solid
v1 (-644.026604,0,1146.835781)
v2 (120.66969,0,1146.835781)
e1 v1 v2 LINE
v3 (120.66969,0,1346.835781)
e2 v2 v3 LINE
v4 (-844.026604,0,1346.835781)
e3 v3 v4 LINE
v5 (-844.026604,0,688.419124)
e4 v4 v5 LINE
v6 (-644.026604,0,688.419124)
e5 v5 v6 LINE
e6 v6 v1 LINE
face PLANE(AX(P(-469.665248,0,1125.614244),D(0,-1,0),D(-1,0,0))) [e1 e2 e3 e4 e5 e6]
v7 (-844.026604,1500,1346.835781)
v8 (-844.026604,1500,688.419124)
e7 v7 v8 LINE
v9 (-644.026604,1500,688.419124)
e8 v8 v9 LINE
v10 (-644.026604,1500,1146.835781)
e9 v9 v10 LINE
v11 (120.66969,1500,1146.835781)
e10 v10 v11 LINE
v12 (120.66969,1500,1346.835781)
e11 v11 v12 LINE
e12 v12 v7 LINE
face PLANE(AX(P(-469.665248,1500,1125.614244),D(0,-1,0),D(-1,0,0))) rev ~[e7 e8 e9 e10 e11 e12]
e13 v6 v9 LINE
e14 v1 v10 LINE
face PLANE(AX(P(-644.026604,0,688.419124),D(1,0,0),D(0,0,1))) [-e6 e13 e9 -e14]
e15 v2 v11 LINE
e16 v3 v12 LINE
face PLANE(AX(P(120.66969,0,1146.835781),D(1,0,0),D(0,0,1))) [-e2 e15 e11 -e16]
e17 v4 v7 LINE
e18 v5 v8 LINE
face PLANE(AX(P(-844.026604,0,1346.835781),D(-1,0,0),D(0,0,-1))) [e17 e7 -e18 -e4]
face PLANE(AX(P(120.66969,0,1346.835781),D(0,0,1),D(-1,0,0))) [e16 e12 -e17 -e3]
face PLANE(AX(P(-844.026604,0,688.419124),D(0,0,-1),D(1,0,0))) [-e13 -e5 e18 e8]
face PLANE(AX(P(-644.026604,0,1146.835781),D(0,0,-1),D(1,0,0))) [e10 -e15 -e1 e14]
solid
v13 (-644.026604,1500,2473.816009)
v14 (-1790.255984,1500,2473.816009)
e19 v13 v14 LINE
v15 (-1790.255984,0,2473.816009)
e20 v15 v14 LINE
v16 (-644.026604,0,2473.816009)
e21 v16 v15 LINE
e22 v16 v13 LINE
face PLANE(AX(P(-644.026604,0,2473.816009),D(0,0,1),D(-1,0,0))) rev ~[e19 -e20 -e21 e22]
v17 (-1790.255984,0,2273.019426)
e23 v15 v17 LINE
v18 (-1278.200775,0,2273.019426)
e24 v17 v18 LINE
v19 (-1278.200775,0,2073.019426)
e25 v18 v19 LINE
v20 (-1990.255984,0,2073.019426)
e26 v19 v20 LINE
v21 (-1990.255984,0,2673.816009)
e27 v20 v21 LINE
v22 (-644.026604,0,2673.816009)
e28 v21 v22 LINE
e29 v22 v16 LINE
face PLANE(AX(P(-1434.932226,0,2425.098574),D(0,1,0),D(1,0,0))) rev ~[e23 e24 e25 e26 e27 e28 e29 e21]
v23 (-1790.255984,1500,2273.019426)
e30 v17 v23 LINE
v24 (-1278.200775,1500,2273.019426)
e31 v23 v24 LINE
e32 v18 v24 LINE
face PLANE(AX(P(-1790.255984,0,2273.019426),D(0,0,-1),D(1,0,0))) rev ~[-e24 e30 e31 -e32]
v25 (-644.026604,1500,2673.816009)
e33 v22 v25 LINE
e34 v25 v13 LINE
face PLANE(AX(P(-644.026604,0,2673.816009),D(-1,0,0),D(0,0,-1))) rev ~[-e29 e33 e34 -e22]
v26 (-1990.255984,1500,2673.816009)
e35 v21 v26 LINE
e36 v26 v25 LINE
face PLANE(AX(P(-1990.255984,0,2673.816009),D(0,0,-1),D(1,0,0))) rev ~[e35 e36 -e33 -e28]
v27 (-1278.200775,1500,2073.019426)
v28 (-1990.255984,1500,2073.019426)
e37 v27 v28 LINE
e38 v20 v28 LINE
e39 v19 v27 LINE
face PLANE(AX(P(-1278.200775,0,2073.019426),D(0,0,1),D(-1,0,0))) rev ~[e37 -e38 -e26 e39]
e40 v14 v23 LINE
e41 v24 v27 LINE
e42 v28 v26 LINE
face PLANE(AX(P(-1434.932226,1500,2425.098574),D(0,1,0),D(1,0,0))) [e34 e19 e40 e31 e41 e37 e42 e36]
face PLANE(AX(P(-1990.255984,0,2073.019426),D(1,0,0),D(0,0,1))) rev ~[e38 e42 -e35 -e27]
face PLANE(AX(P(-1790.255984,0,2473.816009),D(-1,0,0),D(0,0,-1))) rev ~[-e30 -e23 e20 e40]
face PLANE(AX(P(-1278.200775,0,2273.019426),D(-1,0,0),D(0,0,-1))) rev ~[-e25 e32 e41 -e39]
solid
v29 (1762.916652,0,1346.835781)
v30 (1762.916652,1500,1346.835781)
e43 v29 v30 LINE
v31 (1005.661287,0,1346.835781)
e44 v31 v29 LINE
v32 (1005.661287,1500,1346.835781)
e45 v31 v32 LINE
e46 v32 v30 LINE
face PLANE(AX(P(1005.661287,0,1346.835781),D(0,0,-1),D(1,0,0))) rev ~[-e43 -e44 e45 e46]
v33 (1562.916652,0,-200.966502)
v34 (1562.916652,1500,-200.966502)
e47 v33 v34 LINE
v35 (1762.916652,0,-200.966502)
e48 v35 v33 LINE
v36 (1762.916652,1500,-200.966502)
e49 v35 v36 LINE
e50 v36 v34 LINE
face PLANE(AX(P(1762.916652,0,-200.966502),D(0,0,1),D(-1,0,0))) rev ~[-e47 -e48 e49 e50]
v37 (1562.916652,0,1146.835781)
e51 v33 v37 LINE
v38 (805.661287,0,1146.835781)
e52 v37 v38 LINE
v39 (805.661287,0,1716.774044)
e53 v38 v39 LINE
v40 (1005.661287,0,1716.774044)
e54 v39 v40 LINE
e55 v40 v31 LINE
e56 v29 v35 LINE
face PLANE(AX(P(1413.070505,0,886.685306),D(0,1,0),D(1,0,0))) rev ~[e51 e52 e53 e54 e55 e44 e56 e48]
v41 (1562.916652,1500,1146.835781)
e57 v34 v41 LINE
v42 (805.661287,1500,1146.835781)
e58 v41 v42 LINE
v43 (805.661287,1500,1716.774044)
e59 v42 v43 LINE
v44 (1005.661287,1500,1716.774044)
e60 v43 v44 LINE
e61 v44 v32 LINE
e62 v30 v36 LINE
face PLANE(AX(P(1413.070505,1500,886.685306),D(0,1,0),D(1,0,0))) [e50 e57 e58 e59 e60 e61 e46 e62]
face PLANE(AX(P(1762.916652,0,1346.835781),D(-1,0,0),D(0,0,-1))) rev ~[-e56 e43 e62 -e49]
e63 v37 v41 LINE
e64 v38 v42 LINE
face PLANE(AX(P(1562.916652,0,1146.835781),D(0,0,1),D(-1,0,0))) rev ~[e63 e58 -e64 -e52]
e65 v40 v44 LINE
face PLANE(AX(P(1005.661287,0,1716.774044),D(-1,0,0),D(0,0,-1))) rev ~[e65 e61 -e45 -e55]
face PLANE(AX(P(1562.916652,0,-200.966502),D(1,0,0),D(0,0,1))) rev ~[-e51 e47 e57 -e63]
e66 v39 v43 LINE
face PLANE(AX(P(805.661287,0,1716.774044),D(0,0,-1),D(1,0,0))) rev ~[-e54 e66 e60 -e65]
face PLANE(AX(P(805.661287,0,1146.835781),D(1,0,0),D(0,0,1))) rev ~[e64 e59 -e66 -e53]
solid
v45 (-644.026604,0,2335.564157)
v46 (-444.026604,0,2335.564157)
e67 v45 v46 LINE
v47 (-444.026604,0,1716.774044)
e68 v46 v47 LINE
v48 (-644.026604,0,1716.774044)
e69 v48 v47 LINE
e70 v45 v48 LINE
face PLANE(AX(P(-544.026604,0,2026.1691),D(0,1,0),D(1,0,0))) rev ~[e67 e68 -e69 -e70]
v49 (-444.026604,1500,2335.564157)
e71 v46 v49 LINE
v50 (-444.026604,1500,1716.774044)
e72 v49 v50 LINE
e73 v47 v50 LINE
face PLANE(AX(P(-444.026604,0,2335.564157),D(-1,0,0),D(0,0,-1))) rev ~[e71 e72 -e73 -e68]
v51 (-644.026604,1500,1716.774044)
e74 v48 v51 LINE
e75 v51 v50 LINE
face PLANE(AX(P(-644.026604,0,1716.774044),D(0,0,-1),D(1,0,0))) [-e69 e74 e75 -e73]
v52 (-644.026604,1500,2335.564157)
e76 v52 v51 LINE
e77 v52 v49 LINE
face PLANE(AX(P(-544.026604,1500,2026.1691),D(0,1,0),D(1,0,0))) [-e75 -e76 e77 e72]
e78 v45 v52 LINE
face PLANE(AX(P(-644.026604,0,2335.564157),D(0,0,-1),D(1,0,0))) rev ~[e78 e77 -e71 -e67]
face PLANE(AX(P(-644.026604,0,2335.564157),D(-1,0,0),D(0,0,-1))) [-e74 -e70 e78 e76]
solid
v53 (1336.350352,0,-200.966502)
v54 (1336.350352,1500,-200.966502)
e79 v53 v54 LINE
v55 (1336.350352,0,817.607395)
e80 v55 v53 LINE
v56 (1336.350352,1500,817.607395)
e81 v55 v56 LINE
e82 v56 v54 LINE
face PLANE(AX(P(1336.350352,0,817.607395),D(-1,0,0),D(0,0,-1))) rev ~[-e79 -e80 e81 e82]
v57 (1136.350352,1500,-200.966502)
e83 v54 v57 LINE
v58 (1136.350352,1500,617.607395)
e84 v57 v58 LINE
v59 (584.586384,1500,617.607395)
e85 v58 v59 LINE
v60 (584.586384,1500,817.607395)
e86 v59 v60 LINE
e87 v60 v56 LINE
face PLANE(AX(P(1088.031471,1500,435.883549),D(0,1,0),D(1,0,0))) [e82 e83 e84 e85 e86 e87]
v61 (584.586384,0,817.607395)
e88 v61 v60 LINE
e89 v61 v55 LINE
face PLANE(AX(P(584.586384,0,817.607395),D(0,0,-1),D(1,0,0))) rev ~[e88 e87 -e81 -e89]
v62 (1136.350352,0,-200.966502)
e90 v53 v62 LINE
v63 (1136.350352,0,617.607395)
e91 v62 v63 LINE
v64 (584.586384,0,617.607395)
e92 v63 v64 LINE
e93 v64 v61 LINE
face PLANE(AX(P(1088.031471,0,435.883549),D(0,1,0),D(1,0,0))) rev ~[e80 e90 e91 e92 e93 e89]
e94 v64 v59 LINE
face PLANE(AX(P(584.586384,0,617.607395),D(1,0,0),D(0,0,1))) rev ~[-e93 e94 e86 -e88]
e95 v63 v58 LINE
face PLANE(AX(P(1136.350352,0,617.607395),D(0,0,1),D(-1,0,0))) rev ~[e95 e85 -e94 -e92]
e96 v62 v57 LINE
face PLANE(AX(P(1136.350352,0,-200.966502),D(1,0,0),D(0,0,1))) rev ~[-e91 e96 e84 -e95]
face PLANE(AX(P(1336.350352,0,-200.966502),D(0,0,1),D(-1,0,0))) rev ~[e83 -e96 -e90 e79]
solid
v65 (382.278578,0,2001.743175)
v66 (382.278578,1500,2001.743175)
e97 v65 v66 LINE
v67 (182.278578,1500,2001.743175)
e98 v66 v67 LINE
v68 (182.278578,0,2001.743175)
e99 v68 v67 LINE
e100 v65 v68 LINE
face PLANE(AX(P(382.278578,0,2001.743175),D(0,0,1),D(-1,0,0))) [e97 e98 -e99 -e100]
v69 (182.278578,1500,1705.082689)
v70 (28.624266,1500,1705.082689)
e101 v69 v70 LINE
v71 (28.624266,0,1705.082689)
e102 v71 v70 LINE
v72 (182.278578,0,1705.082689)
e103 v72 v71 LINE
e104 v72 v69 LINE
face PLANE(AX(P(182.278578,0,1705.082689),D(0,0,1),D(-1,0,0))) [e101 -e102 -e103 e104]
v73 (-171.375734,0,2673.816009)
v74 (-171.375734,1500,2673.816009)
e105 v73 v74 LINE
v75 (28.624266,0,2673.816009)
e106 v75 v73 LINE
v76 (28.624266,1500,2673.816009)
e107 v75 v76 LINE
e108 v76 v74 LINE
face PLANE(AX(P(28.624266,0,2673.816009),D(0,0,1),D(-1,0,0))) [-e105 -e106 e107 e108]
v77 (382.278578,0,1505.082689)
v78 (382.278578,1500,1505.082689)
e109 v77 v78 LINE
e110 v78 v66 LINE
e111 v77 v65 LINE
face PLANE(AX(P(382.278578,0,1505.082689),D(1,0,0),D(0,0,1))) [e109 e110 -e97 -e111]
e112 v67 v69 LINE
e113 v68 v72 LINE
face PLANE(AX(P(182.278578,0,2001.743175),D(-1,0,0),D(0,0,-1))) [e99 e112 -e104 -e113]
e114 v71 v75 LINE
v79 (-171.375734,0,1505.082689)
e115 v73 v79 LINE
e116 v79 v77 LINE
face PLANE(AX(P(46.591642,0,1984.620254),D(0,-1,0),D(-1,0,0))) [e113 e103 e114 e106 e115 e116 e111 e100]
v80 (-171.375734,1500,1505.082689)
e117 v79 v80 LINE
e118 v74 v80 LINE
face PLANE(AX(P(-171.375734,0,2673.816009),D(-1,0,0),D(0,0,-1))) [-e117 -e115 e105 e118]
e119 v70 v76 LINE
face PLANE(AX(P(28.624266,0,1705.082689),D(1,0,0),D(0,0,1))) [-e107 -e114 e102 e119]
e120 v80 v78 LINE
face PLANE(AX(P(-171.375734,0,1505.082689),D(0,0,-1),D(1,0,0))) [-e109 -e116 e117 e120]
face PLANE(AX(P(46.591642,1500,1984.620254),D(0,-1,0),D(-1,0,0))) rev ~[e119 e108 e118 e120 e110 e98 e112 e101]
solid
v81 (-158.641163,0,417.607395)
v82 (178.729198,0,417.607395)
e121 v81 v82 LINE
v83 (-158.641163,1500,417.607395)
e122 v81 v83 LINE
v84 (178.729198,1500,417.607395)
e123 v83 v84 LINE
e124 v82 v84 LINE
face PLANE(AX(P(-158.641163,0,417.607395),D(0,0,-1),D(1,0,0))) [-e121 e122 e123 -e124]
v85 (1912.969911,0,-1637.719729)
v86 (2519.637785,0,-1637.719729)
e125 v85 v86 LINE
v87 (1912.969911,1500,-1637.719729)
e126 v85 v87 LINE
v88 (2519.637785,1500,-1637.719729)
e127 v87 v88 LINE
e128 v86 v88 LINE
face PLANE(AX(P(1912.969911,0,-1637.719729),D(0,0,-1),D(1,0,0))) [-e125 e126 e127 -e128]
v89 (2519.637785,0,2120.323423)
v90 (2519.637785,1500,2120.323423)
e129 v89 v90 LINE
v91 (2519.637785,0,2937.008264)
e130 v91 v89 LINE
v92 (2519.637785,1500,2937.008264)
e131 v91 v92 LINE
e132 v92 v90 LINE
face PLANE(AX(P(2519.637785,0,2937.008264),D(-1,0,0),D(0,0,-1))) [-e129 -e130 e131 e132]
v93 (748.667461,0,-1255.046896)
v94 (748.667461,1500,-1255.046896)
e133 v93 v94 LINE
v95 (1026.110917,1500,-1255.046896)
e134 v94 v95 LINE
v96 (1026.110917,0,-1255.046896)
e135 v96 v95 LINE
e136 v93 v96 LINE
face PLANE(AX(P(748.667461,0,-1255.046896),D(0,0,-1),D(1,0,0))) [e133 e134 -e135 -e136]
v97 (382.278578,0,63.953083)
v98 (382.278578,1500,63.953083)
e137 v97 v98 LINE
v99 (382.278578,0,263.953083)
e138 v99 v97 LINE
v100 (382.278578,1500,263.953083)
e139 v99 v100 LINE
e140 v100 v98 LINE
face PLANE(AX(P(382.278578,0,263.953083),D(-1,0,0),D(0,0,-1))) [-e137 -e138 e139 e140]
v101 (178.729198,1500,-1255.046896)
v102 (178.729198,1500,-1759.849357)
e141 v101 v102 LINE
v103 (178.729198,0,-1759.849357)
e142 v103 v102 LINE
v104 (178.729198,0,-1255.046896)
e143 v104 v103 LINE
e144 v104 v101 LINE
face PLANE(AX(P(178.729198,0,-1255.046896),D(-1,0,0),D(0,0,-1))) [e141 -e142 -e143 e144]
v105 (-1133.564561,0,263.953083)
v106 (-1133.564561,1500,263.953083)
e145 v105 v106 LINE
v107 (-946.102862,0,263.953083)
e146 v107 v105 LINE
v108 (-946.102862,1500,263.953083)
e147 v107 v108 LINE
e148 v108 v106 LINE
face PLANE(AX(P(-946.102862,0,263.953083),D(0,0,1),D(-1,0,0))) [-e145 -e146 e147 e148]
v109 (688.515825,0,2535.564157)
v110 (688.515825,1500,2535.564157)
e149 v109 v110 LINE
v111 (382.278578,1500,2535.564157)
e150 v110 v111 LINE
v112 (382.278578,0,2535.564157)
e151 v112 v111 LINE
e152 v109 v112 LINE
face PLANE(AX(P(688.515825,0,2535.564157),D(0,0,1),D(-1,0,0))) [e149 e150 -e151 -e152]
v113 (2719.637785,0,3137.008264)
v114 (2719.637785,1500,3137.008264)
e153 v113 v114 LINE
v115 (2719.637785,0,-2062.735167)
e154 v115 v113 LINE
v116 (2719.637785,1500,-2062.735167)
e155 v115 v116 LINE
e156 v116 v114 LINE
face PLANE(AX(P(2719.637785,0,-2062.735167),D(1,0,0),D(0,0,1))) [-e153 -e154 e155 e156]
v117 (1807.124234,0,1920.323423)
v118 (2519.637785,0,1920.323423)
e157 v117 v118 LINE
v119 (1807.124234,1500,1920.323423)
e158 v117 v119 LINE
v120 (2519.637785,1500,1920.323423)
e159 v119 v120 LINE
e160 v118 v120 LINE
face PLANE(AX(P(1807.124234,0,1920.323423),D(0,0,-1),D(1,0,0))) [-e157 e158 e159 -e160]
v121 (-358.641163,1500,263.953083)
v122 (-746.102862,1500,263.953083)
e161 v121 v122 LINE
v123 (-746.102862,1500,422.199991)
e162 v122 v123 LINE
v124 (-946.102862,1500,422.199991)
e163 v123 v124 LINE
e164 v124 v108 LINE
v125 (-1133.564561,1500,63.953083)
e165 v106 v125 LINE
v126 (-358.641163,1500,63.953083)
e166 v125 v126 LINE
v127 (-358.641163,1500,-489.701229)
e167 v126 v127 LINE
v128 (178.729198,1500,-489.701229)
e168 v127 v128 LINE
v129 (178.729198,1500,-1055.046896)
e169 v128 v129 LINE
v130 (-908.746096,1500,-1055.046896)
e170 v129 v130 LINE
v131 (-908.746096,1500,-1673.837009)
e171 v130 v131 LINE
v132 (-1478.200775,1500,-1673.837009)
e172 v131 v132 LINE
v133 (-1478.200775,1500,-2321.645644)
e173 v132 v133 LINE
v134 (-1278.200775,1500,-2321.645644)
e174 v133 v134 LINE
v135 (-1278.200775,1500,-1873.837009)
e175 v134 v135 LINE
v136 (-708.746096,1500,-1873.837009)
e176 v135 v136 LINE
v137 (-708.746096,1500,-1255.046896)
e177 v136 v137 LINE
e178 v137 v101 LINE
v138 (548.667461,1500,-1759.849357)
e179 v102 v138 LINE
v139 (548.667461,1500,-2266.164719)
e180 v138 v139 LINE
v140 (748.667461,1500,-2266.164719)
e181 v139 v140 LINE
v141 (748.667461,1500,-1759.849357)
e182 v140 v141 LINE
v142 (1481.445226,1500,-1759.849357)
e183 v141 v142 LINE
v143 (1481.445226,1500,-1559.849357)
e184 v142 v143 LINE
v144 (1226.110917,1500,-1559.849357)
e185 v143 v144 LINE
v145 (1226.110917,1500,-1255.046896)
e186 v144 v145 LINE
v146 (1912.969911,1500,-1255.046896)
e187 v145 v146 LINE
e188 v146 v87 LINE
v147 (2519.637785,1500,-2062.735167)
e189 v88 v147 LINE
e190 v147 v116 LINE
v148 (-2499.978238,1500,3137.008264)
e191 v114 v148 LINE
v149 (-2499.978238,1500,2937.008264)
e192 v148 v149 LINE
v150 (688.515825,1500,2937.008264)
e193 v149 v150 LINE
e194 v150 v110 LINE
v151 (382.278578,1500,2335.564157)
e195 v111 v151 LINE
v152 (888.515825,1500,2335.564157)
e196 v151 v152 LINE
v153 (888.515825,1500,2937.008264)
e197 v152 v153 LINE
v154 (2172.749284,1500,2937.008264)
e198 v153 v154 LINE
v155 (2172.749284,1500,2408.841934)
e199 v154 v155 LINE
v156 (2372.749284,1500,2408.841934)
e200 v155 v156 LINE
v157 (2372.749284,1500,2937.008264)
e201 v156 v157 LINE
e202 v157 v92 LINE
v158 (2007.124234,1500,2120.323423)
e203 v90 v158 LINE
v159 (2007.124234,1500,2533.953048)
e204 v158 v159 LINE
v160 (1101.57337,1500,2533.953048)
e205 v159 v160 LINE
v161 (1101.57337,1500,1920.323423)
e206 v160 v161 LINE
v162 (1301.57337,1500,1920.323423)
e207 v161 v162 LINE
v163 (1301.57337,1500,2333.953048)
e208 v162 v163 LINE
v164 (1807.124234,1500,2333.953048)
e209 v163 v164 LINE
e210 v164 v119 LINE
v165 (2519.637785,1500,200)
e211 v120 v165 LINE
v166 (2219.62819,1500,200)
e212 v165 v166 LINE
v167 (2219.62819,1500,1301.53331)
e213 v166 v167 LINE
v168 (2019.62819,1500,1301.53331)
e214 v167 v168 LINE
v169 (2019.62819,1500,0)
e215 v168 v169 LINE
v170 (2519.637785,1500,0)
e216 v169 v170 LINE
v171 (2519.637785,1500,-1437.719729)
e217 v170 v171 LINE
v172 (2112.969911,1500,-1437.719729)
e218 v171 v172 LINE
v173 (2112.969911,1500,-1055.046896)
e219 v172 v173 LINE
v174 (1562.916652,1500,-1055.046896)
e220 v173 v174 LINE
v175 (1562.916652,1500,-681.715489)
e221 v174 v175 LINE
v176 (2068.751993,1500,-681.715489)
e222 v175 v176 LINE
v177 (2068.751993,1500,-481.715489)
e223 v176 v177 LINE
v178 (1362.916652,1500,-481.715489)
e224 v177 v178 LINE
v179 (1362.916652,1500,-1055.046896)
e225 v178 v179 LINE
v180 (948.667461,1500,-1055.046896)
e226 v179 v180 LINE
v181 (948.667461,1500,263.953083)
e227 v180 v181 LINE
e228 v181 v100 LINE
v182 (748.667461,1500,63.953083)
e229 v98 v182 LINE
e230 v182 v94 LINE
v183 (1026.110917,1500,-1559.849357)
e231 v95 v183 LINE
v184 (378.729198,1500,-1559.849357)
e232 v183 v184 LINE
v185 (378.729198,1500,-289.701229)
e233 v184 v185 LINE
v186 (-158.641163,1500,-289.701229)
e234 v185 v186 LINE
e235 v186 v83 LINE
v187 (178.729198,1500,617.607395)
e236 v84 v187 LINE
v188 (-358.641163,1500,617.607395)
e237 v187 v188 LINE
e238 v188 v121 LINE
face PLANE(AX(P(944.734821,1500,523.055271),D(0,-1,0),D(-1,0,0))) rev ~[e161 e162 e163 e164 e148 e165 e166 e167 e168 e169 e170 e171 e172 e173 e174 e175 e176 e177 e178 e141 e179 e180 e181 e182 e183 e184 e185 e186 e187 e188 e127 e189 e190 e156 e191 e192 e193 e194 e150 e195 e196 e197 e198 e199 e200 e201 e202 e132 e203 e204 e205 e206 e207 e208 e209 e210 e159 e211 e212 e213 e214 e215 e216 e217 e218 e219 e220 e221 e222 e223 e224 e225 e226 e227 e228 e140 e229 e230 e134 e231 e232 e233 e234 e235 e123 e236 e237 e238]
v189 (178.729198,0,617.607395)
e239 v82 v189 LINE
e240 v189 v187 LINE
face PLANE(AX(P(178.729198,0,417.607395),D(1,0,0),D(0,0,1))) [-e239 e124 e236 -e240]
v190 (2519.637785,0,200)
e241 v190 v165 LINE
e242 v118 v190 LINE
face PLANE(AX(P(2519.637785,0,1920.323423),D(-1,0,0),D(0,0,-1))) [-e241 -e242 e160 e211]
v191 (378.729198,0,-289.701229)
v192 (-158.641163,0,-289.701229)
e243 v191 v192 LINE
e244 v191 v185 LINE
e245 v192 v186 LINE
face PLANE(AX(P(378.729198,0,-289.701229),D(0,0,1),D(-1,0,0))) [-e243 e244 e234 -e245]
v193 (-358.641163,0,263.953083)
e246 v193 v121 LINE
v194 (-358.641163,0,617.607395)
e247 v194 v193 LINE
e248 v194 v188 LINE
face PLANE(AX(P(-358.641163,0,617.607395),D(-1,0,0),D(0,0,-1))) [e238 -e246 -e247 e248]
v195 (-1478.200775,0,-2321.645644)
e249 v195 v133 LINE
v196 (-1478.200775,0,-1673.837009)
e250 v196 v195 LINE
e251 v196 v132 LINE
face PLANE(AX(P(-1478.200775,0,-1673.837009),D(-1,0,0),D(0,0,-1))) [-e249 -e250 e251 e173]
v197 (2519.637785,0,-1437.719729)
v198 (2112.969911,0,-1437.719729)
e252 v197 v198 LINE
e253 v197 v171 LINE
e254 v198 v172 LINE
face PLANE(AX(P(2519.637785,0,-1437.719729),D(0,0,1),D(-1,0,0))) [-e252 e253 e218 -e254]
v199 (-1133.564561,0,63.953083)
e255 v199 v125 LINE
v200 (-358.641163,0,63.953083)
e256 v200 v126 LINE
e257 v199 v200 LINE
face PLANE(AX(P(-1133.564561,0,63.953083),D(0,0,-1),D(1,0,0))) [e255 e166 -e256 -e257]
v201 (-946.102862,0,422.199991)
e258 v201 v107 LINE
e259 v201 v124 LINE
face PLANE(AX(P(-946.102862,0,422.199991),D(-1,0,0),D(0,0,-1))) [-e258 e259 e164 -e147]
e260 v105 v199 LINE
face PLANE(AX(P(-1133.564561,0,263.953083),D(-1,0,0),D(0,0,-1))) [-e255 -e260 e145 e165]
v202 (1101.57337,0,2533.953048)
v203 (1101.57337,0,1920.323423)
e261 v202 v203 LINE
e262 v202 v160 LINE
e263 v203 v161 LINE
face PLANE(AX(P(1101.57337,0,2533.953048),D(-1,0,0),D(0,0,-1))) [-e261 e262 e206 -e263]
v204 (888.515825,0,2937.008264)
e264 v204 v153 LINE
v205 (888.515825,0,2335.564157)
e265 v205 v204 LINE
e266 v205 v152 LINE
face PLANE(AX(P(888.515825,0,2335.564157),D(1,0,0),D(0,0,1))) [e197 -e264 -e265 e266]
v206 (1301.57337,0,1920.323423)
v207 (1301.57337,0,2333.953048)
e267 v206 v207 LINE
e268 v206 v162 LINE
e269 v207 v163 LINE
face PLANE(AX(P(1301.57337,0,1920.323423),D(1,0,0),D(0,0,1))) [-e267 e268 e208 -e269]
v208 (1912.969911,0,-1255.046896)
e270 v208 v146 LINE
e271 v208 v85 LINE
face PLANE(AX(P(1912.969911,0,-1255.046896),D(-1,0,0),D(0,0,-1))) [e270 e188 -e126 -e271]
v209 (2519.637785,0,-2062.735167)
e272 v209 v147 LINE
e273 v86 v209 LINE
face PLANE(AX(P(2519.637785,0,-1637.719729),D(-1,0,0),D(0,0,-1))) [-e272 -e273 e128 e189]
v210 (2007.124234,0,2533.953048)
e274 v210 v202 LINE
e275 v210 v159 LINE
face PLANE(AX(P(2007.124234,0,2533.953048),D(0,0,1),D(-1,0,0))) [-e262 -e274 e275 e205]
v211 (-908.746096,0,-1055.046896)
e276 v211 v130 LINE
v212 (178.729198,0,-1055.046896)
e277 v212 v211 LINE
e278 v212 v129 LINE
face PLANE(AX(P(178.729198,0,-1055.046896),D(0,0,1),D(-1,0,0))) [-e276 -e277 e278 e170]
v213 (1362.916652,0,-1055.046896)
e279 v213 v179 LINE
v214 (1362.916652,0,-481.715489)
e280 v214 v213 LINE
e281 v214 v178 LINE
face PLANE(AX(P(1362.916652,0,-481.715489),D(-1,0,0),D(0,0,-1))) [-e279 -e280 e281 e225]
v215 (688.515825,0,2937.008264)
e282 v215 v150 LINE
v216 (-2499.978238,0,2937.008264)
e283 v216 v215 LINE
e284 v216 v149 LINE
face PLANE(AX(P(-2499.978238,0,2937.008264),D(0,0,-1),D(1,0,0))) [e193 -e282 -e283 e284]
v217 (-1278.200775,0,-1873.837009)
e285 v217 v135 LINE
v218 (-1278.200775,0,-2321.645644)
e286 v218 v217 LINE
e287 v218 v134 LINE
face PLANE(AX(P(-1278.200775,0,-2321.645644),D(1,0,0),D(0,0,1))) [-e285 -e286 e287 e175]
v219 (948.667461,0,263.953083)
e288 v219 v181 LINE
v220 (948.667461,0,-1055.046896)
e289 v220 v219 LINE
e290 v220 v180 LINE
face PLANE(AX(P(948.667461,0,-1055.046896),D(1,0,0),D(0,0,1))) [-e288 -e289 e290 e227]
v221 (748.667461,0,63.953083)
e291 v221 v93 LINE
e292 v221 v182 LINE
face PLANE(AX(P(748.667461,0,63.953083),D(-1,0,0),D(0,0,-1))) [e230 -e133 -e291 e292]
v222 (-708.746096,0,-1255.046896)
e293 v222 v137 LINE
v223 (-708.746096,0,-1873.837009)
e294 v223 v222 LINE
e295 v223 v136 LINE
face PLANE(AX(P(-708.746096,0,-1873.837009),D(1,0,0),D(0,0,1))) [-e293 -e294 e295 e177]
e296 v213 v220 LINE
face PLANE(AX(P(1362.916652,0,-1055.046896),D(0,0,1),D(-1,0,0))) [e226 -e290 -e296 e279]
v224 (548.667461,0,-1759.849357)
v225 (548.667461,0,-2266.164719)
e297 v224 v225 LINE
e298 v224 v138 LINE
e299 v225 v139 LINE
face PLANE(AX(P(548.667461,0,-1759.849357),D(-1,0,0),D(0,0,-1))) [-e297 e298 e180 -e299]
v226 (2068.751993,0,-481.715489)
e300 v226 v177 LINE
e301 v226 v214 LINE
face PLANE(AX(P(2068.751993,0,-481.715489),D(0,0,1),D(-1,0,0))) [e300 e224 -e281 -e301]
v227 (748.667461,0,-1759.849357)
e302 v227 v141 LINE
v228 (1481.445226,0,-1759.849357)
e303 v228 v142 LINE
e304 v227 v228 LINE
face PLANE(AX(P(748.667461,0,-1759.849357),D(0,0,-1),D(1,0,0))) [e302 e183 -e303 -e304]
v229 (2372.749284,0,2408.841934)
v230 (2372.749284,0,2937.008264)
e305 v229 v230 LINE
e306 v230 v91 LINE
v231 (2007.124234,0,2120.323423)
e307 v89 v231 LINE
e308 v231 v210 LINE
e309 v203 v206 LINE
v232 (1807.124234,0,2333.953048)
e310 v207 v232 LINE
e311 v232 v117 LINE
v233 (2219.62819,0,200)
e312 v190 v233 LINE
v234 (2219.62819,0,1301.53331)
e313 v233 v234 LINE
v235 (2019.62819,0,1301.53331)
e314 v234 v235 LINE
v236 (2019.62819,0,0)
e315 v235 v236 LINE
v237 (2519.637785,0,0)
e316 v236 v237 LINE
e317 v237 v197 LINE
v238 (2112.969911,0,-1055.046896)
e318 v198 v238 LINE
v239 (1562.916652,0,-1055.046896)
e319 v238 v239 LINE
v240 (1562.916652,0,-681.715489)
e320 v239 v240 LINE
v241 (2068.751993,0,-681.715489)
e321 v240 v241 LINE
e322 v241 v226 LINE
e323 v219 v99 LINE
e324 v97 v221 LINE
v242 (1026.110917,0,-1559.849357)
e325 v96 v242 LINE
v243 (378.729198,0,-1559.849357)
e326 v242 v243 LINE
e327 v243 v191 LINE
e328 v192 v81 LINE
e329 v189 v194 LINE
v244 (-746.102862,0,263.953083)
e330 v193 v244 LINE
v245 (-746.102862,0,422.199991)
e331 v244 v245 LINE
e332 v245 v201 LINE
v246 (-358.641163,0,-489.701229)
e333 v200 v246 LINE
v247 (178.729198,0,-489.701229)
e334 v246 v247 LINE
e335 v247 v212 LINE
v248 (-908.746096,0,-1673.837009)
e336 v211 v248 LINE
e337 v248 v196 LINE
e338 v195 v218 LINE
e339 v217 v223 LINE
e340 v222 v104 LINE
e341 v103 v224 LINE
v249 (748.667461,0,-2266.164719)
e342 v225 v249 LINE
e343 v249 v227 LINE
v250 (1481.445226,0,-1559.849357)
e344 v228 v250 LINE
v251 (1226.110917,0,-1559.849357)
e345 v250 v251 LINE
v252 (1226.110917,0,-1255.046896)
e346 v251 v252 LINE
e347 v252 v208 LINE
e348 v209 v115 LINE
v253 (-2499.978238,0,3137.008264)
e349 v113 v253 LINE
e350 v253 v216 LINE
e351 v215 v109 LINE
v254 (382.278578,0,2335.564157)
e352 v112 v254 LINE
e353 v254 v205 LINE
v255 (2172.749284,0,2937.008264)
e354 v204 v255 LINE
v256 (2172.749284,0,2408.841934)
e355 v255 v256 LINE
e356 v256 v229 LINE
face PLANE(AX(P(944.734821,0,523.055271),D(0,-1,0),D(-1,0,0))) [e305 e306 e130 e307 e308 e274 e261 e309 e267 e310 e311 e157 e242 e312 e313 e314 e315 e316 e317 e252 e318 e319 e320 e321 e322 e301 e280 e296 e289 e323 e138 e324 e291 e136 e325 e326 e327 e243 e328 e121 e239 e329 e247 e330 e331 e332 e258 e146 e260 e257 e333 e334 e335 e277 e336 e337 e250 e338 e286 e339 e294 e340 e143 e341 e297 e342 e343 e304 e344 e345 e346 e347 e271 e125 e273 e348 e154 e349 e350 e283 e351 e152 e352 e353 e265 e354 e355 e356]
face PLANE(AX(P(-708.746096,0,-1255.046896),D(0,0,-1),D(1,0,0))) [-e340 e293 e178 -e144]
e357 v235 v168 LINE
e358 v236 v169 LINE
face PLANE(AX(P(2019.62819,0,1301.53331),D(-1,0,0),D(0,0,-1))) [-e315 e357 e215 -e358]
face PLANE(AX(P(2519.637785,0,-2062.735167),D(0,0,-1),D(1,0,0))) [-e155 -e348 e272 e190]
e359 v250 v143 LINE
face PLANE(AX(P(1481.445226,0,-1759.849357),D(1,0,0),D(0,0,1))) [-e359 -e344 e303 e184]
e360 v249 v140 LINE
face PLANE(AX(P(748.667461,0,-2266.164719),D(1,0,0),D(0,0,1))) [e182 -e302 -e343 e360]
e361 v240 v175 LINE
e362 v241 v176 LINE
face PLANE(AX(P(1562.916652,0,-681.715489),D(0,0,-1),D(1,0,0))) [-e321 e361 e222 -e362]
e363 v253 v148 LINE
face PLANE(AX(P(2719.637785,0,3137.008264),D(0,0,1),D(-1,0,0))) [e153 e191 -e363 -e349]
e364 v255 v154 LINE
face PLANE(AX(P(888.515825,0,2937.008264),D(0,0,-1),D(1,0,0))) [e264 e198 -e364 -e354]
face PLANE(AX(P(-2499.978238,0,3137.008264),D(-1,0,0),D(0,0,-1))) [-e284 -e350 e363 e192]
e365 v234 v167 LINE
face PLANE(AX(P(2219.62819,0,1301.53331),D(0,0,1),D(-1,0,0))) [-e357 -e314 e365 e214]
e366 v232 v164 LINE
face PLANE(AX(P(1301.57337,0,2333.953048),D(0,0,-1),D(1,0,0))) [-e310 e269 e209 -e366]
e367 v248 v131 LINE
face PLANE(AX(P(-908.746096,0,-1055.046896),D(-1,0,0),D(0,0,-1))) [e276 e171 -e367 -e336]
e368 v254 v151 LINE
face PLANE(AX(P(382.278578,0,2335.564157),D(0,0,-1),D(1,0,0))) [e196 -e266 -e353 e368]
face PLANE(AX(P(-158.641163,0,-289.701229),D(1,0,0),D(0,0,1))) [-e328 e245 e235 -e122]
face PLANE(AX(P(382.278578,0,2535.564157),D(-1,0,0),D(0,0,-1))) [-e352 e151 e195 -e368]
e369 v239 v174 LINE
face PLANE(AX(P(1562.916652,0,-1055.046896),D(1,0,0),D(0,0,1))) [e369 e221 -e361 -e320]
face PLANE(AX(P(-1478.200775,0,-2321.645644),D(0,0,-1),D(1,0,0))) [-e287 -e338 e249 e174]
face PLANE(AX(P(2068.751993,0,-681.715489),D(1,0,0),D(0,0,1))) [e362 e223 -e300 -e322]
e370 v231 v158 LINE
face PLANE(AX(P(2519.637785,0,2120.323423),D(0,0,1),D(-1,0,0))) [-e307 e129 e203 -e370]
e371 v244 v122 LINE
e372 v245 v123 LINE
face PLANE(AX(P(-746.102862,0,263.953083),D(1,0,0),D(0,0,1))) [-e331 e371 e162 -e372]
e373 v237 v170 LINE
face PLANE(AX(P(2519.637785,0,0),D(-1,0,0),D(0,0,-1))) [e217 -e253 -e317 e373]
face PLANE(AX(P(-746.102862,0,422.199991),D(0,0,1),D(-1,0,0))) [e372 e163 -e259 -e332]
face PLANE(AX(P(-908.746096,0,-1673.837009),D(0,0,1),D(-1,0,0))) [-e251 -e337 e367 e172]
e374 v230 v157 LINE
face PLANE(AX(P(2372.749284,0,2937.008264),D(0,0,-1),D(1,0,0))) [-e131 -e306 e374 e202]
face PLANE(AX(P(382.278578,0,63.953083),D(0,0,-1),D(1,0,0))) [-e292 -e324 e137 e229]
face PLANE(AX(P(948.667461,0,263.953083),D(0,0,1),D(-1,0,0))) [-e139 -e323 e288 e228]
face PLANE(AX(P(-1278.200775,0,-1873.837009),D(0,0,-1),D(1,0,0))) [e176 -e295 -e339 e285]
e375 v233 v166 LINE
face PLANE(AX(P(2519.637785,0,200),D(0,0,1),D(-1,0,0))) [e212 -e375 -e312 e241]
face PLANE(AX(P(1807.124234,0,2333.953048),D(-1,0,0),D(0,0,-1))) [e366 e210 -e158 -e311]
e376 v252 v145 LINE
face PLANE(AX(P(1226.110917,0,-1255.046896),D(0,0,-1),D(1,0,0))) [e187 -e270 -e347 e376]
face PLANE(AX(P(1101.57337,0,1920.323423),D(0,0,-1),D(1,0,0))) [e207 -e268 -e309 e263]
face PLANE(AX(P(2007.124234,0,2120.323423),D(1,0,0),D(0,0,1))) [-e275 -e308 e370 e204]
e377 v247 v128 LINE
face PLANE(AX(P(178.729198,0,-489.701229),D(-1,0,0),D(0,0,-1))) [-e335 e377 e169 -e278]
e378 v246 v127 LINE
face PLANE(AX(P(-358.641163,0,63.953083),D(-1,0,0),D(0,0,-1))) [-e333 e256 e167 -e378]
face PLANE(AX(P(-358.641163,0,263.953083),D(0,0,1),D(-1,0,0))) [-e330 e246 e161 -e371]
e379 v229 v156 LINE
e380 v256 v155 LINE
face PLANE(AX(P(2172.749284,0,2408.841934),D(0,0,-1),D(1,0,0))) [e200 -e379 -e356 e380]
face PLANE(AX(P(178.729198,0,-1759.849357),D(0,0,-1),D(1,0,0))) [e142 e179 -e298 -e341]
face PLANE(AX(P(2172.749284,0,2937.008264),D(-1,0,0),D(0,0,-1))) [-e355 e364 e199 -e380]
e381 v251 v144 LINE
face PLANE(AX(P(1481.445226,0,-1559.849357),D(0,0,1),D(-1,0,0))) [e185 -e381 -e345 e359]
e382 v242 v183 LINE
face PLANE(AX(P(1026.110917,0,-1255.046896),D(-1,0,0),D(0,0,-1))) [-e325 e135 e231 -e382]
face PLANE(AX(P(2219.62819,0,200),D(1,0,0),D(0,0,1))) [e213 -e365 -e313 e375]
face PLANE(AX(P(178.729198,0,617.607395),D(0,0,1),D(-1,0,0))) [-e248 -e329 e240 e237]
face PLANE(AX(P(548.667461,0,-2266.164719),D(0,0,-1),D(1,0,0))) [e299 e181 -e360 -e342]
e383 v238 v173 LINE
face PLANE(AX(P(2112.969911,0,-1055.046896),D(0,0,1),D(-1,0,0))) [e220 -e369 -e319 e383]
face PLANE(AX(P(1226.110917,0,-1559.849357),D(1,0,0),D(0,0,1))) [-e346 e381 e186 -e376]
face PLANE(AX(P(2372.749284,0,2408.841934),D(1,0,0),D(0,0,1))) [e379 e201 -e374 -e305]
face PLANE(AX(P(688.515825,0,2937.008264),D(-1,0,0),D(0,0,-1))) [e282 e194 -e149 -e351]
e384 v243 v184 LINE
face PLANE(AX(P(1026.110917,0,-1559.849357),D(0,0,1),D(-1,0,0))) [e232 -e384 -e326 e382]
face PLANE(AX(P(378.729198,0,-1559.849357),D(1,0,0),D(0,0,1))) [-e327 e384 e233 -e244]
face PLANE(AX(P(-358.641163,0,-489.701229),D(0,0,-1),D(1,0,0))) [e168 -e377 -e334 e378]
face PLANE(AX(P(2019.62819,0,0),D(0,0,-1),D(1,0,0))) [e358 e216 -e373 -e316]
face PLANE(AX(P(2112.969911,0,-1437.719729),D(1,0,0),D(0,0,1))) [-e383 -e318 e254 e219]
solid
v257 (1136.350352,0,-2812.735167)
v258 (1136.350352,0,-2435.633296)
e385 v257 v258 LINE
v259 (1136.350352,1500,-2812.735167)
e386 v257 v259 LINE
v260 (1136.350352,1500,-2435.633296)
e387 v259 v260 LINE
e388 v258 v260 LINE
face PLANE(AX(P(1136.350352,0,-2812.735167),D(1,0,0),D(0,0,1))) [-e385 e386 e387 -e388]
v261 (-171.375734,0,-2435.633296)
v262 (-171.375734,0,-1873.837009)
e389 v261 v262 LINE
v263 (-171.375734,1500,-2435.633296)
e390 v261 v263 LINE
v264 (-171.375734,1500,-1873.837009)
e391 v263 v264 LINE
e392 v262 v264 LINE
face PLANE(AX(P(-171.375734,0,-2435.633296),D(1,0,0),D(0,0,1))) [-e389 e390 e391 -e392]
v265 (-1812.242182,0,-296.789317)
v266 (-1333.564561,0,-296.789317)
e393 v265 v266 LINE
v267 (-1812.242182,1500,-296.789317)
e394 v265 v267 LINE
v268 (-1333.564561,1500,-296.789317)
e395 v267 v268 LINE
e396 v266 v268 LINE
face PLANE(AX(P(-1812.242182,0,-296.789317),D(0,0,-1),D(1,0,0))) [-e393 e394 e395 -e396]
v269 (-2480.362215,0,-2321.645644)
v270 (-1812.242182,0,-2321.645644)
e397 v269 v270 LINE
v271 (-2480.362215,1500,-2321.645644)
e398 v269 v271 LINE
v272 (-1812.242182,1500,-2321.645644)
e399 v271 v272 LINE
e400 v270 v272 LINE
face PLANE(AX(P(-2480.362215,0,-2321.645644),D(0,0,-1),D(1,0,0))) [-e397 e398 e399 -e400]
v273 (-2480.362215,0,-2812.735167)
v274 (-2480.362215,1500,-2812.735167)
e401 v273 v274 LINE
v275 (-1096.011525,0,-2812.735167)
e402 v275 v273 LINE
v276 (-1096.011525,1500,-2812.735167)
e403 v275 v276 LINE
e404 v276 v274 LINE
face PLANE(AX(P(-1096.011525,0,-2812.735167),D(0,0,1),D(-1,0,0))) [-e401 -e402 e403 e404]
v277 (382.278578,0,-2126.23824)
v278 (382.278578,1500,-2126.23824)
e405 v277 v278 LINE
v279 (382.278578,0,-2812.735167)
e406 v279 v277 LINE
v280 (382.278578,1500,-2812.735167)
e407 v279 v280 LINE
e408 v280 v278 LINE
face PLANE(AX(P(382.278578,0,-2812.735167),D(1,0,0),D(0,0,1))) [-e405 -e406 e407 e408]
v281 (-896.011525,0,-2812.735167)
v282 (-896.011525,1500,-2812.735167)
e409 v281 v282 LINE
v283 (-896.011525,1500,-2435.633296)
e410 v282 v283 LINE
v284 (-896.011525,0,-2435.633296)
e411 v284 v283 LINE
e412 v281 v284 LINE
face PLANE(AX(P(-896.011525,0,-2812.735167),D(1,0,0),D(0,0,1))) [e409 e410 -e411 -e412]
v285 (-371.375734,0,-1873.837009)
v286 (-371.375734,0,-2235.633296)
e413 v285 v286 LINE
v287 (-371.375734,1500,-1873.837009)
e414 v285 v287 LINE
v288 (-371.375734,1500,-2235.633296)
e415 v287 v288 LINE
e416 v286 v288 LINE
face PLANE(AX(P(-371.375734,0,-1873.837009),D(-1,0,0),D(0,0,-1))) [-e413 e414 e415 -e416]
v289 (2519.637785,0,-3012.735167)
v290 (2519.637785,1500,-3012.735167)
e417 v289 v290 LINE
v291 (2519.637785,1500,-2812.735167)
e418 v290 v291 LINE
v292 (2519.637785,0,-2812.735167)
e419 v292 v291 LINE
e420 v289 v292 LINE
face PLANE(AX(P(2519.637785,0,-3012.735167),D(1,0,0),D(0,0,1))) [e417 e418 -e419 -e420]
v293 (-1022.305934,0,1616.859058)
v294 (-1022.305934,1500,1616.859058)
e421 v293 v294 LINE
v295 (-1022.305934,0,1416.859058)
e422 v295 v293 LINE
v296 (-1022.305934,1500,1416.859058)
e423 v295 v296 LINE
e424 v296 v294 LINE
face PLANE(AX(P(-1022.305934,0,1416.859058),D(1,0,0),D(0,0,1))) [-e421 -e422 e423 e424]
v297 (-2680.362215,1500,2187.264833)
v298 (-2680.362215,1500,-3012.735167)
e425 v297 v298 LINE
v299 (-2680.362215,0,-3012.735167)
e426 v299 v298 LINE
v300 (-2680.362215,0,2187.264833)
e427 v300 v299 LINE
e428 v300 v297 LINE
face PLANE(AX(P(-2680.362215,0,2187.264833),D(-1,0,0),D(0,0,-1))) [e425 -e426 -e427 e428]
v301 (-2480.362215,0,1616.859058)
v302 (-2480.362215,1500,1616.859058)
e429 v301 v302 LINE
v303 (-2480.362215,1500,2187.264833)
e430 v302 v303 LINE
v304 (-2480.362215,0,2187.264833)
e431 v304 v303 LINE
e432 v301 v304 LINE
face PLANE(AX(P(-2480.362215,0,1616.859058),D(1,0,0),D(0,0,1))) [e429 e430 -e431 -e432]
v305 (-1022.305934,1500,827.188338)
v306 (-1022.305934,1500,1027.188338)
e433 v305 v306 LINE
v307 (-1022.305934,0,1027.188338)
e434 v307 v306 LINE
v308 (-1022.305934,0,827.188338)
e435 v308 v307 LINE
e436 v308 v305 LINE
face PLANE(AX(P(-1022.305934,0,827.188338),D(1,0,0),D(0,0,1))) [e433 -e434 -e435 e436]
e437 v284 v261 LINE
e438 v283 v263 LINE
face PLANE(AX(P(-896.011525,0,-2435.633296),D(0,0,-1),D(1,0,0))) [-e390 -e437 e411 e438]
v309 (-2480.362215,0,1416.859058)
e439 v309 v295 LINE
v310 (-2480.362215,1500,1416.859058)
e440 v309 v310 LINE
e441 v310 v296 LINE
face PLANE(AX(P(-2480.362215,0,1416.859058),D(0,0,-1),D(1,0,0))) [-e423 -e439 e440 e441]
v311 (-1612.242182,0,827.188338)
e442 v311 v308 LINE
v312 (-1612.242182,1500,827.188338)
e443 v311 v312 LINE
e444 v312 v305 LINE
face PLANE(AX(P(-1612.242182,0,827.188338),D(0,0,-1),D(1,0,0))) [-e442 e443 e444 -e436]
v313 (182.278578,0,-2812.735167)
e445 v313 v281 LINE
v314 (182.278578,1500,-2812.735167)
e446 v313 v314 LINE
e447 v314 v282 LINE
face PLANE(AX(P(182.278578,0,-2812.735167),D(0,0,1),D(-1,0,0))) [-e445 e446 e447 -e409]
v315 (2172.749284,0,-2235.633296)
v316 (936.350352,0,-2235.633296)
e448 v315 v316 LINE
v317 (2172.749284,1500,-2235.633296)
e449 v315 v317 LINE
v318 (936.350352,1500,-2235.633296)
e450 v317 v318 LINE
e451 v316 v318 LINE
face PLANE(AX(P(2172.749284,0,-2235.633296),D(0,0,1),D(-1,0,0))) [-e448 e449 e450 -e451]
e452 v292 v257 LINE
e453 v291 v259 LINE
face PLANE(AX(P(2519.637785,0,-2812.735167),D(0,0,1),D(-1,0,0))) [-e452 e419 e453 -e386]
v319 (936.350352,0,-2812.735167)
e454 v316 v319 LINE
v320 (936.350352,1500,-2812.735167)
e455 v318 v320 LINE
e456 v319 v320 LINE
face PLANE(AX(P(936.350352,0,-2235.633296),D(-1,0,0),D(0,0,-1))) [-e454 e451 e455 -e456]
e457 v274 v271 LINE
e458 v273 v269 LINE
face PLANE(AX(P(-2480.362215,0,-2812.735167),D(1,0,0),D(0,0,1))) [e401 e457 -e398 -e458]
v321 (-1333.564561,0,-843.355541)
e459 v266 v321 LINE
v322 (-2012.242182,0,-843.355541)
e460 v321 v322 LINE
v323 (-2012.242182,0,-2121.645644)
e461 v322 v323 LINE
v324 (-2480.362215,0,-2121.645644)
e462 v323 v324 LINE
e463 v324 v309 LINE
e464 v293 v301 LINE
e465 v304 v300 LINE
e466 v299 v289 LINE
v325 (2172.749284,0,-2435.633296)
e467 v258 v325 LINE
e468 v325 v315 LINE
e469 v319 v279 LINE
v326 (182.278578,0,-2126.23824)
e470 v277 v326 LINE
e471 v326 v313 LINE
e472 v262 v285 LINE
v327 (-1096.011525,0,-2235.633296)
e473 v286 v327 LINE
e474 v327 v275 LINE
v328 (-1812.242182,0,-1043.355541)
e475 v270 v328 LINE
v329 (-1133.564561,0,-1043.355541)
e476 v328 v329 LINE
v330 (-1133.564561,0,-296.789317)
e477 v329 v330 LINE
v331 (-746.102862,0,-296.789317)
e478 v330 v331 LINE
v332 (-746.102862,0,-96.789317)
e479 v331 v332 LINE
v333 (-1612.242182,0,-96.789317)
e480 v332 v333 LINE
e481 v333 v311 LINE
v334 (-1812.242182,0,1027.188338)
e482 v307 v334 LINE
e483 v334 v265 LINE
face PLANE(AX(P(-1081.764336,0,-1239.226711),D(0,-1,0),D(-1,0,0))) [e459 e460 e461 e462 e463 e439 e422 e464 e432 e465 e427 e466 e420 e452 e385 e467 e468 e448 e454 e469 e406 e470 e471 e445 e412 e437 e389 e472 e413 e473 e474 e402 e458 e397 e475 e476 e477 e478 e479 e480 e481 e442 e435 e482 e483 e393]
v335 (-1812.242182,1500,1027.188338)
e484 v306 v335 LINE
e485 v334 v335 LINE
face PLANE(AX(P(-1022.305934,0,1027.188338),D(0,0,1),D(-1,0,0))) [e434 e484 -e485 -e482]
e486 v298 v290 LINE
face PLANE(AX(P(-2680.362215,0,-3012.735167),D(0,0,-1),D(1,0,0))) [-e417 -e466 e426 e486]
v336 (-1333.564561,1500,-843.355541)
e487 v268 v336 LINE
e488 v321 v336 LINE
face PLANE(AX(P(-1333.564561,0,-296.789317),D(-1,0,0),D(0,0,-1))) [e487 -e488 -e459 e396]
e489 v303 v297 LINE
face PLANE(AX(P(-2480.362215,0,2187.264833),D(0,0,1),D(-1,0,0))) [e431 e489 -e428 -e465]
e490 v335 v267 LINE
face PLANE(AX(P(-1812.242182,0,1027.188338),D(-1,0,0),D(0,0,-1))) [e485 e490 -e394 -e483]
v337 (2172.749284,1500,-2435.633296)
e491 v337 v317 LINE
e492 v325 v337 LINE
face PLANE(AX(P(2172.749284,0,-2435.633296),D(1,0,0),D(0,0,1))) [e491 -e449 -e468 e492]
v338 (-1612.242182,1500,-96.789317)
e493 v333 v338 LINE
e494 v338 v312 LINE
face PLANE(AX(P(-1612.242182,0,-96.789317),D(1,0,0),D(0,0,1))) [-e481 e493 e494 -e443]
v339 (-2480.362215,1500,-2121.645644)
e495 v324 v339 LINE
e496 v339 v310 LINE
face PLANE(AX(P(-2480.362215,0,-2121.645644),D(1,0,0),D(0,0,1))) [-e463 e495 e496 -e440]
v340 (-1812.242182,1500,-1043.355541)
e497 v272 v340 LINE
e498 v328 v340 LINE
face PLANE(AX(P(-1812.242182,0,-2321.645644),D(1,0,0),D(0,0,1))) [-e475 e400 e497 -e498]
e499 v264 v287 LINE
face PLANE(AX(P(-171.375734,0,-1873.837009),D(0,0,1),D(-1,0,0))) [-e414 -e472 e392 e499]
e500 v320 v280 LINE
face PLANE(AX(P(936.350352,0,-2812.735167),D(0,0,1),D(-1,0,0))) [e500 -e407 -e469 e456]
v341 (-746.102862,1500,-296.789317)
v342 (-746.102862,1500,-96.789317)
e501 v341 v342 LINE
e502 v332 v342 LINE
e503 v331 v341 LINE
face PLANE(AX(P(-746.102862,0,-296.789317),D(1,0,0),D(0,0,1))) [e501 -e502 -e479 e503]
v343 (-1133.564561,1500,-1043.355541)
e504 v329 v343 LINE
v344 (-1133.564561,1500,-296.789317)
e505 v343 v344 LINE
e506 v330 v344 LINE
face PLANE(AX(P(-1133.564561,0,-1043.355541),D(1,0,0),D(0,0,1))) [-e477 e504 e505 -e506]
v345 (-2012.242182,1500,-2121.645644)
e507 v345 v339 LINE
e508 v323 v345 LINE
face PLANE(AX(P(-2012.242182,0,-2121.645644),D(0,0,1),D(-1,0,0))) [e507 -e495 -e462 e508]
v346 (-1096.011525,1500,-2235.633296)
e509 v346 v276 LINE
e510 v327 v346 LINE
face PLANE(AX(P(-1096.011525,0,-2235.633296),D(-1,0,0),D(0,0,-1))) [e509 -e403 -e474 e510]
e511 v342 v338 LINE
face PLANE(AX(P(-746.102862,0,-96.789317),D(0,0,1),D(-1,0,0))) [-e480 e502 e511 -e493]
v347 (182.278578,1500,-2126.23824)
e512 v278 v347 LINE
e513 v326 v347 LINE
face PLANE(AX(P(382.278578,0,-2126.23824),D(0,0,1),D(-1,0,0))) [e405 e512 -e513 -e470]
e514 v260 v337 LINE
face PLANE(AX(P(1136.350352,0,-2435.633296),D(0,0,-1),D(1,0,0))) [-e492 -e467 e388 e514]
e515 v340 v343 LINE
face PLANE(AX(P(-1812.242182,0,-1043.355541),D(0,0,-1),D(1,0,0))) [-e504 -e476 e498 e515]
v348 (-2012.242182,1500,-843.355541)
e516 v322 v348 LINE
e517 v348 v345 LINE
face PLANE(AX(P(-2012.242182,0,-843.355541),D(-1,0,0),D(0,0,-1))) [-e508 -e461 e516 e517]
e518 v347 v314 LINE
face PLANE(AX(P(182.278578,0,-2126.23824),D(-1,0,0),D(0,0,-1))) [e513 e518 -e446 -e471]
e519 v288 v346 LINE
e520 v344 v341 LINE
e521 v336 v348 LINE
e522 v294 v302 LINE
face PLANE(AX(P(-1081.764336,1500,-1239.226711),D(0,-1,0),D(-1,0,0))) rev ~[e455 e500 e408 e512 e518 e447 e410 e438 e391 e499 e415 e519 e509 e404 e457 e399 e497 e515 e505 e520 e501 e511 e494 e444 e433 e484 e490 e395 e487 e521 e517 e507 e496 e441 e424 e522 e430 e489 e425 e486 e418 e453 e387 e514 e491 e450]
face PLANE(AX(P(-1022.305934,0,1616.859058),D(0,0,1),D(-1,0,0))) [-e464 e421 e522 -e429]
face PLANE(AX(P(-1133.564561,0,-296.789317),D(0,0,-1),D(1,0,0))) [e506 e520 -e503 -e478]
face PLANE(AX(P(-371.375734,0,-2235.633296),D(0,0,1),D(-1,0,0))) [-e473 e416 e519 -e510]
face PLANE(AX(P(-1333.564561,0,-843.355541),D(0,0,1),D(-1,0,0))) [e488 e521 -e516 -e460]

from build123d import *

# Parameters (mm, degrees)
BOSS_EXTRUDE1_DEPTH   = 1500
BOSS_EXTRUDE1_2_DEPTH = 1500
BOSS_EXTRUDE1_3_DEPTH = 1500
SKETCH1_W             = 200
SKETCH1_H             = 618.790113416
BOSS_EXTRUDE1_4_DEPTH = 1500
BOSS_EXTRUDE1_5_DEPTH = 1500
BOSS_EXTRUDE1_6_DEPTH = 1500
BOSS_EXTRUDE1_7_DEPTH = 1500
BOSS_EXTRUDE1_8_DEPTH = 1500


with BuildPart() as part:
    # Sketch1 → Boss-Extrude1 (new body)
    with BuildSketch(Plane(origin=(0, 0, 0), x_dir=(1, 0, 0), z_dir=(0, 1, 0))):
        Polygon((-2480.362214578, 2812.735166706), (-2480.362214578, 2321.64564392), (-1812.242182119, 2321.64564392), (-1812.242182119, 1043.355541206), (-1133.564560671, 1043.355541206), (-1133.564560671, 296.789317438), (-746.102862047, 296.789317438), (-746.102862047, 96.789317438), (-1612.242182119, 96.789317438), (-1612.242182119, -827.188337518), (-1022.305934204, -827.188337518), (-1022.305934204, -1027.188337518), (-1812.242182119, -1027.188337518), (-1812.242182119, 296.789317438), (-1333.564560671, 296.789317438), (-1333.564560671, 843.355541206), (-2012.242182119, 843.355541206), (-2012.242182119, 2121.64564392), (-2480.362214578, 2121.64564392), (-2480.362214578, -1416.859057793), (-1022.305934204, -1416.859057793), (-1022.305934204, -1616.859057793), (-2480.362214578, -1616.859057793), (-2480.362214578, -2187.264833294), (-2680.362214578, -2187.264833294), (-2680.362214578, 3012.735166706), (2519.637785422, 3012.735166706), (2519.637785422, 2812.735166706), (1136.350352087, 2812.735166706), (1136.350352087, 2435.633296391), (2172.749284261, 2435.633296391), (2172.749284261, 2235.633296391), (936.350352087, 2235.633296391), (936.350352087, 2812.735166706), (382.27857764, 2812.735166706), (382.27857764, 2126.238239683), (182.27857764, 2126.238239683), (182.27857764, 2812.735166706), (-896.011525074, 2812.735166706), (-896.011525074, 2435.633296391), (-171.375734363, 2435.633296391), (-171.375734363, 1873.837009211), (-371.375734363, 1873.837009211), (-371.375734363, 2235.633296391), (-1096.011525074, 2235.633296391), (-1096.011525074, 2812.735166706), align=None)
    extrude(amount=BOSS_EXTRUDE1_DEPTH)


with BuildPart() as body_2:
    # Sketch1 → Boss-Extrude1 2 (new body)
    with BuildSketch(Plane(origin=(0, 0, 0), x_dir=(1, 0, 0), z_dir=(0, 1, 0))):
        Polygon((-2499.978238149, -2937.008263822), (688.515824828, -2937.008263822), (688.515824828, -2535.564157051), (382.27857764, -2535.564157051), (382.27857764, -2335.564157051), (888.515824828, -2335.564157051), (888.515824828, -2937.008263822), (2172.749284261, -2937.008263822), (2172.749284261, -2408.84193364), (2372.749284261, -2408.84193364), (2372.749284261, -2937.008263822), (2519.637785422, -2937.008263822), (2519.637785422, -2120.323423048), (2007.124233532, -2120.323423048), (2007.124233532, -2533.953048433), (1101.57337026, -2533.953048433), (1101.57337026, -1920.323423048), (1301.57337026, -1920.323423048), (1301.57337026, -2333.953048433), (1807.124233532, -2333.953048433), (1807.124233532, -1920.323423048), (2519.637785422, -1920.323423048), (2519.637785422, -200), (2219.628189579, -200), (2219.628189579, -1301.533309633), (2019.628189579, -1301.533309633), (2019.628189579, 0), (2519.637785422, 0), (2519.637785422, 1437.719729092), (2112.969910827, 1437.719729092), (2112.969910827, 1055.046895796), (1562.916651679, 1055.046895796), (1562.916651679, 681.715489412), (2068.751993019, 681.715489412), (2068.751993019, 481.715489412), (1362.916651679, 481.715489412), (1362.916651679, 1055.046895796), (948.667460584, 1055.046895796), (948.667460584, -263.953082801), (382.27857764, -263.953082801), (382.27857764, -63.953082801), (748.667460584, -63.953082801), (748.667460584, 1255.046895796), (1026.110916613, 1255.046895796), (1026.110916613, 1559.84935674), (378.729198227, 1559.84935674), (378.729198227, 289.701229202), (-158.641163423, 289.701229202), (-158.641163423, -417.607394805), (178.729198227, -417.607394805), (178.729198227, -617.607394805), (-358.641163423, -617.607394805), (-358.641163423, -263.953082801), (-746.102862047, -263.953082801), (-746.102862047, -422.199990568), (-946.102862047, -422.199990568), (-946.102862047, -263.953082801), (-1133.564560671, -263.953082801), (-1133.564560671, -63.953082801), (-358.641163423, -63.953082801), (-358.641163423, 489.701229202), (178.729198227, 489.701229202), (178.729198227, 1055.046895796), (-908.746096014, 1055.046895796), (-908.746096014, 1673.837009211), (-1478.200775078, 1673.837009211), (-1478.200775078, 2321.64564392), (-1278.200775078, 2321.64564392), (-1278.200775078, 1873.837009211), (-708.746096014, 1873.837009211), (-708.746096014, 1255.046895796), (178.729198227, 1255.046895796), (178.729198227, 1759.84935674), (548.667460584, 1759.84935674), (548.667460584, 2266.164719412), (748.667460584, 2266.164719412), (748.667460584, 1759.84935674), (1481.445226471, 1759.84935674), (1481.445226471, 1559.84935674), (1226.110916613, 1559.84935674), (1226.110916613, 1255.046895796), (1912.969910827, 1255.046895796), (1912.969910827, 1637.719729092), (2519.637785422, 1637.719729092), (2519.637785422, 2062.735166706), (2719.637785422, 2062.735166706), (2719.637785422, -3137.008263822), (-2499.978238149, -3137.008263822), align=None)
    extrude(amount=BOSS_EXTRUDE1_2_DEPTH)


with BuildPart() as body_3:
    # Sketch1 → Boss-Extrude1 3 (new body)
    with BuildSketch(Plane(origin=(0, 0, 0), x_dir=(1, 0, 0), z_dir=(0, 1, 0))):
        Polygon((-1278.200775078, -2073.019426307), (-1990.255984466, -2073.019426307), (-1990.255984466, -2673.816009228), (-644.026604217, -2673.816009228), (-644.026604217, -2473.816009228), (-1790.255984466, -2473.816009228), (-1790.255984466, -2273.019426307), (-1278.200775078, -2273.019426307), align=None)
    extrude(amount=BOSS_EXTRUDE1_3_DEPTH)


with BuildPart() as body_4:
    # Sketch1 → Boss-Extrude1 4 (new body)
    with BuildSketch(Plane(origin=(0, 0, 0), x_dir=(1, 0, 0), z_dir=(0, 1, 0))):
        with Locations((-544.026604217, -2026.169100343)):
            Rectangle(SKETCH1_W, SKETCH1_H)
    extrude(amount=BOSS_EXTRUDE1_4_DEPTH)


with BuildPart() as body_5:
    # Sketch1 → Boss-Extrude1 5 (new body)
    with BuildSketch(Plane(origin=(0, 0, 0), x_dir=(1, 0, 0), z_dir=(0, 1, 0))):
        Polygon((-171.375734363, -2673.816009228), (-171.375734363, -1505.082689046), (382.27857764, -1505.082689046), (382.27857764, -2001.743174813), (182.27857764, -2001.743174813), (182.27857764, -1705.082689046), (28.624265637, -1705.082689046), (28.624265637, -2673.816009228), align=None)
    extrude(amount=BOSS_EXTRUDE1_5_DEPTH)


with BuildPart() as body_6:
    # Sketch1 → Boss-Extrude1 6 (new body)
    with BuildSketch(Plane(origin=(0, 0, 0), x_dir=(1, 0, 0), z_dir=(0, 1, 0))):
        Polygon((1562.916651679, 200.966502149), (1562.916651679, -1146.835781279), (805.66128682, -1146.835781279), (805.66128682, -1716.774043635), (1005.66128682, -1716.774043635), (1005.66128682, -1346.835781279), (1762.916651679, -1346.835781279), (1762.916651679, 200.966502149), align=None)
    extrude(amount=BOSS_EXTRUDE1_6_DEPTH)


with BuildPart() as body_7:
    # Sketch1 → Boss-Extrude1 7 (new body)
    with BuildSketch(Plane(origin=(0, 0, 0), x_dir=(1, 0, 0), z_dir=(0, 1, 0))):
        Polygon((1136.350352087, 200.966502149), (1136.350352087, -617.607394805), (584.586384409, -617.607394805), (584.586384409, -817.607394805), (1336.350352087, -817.607394805), (1336.350352087, 200.966502149), align=None)
    extrude(amount=BOSS_EXTRUDE1_7_DEPTH)


with BuildPart() as body_8:
    # Sketch1 → Boss-Extrude1 8 (new body)
    with BuildSketch(Plane(origin=(0, 0, 0), x_dir=(1, 0, 0), z_dir=(0, 1, 0))):
        Polygon((-644.026604217, -688.419124288), (-644.026604217, -1146.835781279), (120.669689889, -1146.835781279), (120.669689889, -1346.835781279), (-844.026604217, -1346.835781279), (-844.026604217, -688.419124288), align=None)
    extrude(amount=BOSS_EXTRUDE1_8_DEPTH)


solid = Compound([part.part, body_2.part, body_3.part, body_4.part, body_5.part, body_6.part, body_7.part, body_8.part])
